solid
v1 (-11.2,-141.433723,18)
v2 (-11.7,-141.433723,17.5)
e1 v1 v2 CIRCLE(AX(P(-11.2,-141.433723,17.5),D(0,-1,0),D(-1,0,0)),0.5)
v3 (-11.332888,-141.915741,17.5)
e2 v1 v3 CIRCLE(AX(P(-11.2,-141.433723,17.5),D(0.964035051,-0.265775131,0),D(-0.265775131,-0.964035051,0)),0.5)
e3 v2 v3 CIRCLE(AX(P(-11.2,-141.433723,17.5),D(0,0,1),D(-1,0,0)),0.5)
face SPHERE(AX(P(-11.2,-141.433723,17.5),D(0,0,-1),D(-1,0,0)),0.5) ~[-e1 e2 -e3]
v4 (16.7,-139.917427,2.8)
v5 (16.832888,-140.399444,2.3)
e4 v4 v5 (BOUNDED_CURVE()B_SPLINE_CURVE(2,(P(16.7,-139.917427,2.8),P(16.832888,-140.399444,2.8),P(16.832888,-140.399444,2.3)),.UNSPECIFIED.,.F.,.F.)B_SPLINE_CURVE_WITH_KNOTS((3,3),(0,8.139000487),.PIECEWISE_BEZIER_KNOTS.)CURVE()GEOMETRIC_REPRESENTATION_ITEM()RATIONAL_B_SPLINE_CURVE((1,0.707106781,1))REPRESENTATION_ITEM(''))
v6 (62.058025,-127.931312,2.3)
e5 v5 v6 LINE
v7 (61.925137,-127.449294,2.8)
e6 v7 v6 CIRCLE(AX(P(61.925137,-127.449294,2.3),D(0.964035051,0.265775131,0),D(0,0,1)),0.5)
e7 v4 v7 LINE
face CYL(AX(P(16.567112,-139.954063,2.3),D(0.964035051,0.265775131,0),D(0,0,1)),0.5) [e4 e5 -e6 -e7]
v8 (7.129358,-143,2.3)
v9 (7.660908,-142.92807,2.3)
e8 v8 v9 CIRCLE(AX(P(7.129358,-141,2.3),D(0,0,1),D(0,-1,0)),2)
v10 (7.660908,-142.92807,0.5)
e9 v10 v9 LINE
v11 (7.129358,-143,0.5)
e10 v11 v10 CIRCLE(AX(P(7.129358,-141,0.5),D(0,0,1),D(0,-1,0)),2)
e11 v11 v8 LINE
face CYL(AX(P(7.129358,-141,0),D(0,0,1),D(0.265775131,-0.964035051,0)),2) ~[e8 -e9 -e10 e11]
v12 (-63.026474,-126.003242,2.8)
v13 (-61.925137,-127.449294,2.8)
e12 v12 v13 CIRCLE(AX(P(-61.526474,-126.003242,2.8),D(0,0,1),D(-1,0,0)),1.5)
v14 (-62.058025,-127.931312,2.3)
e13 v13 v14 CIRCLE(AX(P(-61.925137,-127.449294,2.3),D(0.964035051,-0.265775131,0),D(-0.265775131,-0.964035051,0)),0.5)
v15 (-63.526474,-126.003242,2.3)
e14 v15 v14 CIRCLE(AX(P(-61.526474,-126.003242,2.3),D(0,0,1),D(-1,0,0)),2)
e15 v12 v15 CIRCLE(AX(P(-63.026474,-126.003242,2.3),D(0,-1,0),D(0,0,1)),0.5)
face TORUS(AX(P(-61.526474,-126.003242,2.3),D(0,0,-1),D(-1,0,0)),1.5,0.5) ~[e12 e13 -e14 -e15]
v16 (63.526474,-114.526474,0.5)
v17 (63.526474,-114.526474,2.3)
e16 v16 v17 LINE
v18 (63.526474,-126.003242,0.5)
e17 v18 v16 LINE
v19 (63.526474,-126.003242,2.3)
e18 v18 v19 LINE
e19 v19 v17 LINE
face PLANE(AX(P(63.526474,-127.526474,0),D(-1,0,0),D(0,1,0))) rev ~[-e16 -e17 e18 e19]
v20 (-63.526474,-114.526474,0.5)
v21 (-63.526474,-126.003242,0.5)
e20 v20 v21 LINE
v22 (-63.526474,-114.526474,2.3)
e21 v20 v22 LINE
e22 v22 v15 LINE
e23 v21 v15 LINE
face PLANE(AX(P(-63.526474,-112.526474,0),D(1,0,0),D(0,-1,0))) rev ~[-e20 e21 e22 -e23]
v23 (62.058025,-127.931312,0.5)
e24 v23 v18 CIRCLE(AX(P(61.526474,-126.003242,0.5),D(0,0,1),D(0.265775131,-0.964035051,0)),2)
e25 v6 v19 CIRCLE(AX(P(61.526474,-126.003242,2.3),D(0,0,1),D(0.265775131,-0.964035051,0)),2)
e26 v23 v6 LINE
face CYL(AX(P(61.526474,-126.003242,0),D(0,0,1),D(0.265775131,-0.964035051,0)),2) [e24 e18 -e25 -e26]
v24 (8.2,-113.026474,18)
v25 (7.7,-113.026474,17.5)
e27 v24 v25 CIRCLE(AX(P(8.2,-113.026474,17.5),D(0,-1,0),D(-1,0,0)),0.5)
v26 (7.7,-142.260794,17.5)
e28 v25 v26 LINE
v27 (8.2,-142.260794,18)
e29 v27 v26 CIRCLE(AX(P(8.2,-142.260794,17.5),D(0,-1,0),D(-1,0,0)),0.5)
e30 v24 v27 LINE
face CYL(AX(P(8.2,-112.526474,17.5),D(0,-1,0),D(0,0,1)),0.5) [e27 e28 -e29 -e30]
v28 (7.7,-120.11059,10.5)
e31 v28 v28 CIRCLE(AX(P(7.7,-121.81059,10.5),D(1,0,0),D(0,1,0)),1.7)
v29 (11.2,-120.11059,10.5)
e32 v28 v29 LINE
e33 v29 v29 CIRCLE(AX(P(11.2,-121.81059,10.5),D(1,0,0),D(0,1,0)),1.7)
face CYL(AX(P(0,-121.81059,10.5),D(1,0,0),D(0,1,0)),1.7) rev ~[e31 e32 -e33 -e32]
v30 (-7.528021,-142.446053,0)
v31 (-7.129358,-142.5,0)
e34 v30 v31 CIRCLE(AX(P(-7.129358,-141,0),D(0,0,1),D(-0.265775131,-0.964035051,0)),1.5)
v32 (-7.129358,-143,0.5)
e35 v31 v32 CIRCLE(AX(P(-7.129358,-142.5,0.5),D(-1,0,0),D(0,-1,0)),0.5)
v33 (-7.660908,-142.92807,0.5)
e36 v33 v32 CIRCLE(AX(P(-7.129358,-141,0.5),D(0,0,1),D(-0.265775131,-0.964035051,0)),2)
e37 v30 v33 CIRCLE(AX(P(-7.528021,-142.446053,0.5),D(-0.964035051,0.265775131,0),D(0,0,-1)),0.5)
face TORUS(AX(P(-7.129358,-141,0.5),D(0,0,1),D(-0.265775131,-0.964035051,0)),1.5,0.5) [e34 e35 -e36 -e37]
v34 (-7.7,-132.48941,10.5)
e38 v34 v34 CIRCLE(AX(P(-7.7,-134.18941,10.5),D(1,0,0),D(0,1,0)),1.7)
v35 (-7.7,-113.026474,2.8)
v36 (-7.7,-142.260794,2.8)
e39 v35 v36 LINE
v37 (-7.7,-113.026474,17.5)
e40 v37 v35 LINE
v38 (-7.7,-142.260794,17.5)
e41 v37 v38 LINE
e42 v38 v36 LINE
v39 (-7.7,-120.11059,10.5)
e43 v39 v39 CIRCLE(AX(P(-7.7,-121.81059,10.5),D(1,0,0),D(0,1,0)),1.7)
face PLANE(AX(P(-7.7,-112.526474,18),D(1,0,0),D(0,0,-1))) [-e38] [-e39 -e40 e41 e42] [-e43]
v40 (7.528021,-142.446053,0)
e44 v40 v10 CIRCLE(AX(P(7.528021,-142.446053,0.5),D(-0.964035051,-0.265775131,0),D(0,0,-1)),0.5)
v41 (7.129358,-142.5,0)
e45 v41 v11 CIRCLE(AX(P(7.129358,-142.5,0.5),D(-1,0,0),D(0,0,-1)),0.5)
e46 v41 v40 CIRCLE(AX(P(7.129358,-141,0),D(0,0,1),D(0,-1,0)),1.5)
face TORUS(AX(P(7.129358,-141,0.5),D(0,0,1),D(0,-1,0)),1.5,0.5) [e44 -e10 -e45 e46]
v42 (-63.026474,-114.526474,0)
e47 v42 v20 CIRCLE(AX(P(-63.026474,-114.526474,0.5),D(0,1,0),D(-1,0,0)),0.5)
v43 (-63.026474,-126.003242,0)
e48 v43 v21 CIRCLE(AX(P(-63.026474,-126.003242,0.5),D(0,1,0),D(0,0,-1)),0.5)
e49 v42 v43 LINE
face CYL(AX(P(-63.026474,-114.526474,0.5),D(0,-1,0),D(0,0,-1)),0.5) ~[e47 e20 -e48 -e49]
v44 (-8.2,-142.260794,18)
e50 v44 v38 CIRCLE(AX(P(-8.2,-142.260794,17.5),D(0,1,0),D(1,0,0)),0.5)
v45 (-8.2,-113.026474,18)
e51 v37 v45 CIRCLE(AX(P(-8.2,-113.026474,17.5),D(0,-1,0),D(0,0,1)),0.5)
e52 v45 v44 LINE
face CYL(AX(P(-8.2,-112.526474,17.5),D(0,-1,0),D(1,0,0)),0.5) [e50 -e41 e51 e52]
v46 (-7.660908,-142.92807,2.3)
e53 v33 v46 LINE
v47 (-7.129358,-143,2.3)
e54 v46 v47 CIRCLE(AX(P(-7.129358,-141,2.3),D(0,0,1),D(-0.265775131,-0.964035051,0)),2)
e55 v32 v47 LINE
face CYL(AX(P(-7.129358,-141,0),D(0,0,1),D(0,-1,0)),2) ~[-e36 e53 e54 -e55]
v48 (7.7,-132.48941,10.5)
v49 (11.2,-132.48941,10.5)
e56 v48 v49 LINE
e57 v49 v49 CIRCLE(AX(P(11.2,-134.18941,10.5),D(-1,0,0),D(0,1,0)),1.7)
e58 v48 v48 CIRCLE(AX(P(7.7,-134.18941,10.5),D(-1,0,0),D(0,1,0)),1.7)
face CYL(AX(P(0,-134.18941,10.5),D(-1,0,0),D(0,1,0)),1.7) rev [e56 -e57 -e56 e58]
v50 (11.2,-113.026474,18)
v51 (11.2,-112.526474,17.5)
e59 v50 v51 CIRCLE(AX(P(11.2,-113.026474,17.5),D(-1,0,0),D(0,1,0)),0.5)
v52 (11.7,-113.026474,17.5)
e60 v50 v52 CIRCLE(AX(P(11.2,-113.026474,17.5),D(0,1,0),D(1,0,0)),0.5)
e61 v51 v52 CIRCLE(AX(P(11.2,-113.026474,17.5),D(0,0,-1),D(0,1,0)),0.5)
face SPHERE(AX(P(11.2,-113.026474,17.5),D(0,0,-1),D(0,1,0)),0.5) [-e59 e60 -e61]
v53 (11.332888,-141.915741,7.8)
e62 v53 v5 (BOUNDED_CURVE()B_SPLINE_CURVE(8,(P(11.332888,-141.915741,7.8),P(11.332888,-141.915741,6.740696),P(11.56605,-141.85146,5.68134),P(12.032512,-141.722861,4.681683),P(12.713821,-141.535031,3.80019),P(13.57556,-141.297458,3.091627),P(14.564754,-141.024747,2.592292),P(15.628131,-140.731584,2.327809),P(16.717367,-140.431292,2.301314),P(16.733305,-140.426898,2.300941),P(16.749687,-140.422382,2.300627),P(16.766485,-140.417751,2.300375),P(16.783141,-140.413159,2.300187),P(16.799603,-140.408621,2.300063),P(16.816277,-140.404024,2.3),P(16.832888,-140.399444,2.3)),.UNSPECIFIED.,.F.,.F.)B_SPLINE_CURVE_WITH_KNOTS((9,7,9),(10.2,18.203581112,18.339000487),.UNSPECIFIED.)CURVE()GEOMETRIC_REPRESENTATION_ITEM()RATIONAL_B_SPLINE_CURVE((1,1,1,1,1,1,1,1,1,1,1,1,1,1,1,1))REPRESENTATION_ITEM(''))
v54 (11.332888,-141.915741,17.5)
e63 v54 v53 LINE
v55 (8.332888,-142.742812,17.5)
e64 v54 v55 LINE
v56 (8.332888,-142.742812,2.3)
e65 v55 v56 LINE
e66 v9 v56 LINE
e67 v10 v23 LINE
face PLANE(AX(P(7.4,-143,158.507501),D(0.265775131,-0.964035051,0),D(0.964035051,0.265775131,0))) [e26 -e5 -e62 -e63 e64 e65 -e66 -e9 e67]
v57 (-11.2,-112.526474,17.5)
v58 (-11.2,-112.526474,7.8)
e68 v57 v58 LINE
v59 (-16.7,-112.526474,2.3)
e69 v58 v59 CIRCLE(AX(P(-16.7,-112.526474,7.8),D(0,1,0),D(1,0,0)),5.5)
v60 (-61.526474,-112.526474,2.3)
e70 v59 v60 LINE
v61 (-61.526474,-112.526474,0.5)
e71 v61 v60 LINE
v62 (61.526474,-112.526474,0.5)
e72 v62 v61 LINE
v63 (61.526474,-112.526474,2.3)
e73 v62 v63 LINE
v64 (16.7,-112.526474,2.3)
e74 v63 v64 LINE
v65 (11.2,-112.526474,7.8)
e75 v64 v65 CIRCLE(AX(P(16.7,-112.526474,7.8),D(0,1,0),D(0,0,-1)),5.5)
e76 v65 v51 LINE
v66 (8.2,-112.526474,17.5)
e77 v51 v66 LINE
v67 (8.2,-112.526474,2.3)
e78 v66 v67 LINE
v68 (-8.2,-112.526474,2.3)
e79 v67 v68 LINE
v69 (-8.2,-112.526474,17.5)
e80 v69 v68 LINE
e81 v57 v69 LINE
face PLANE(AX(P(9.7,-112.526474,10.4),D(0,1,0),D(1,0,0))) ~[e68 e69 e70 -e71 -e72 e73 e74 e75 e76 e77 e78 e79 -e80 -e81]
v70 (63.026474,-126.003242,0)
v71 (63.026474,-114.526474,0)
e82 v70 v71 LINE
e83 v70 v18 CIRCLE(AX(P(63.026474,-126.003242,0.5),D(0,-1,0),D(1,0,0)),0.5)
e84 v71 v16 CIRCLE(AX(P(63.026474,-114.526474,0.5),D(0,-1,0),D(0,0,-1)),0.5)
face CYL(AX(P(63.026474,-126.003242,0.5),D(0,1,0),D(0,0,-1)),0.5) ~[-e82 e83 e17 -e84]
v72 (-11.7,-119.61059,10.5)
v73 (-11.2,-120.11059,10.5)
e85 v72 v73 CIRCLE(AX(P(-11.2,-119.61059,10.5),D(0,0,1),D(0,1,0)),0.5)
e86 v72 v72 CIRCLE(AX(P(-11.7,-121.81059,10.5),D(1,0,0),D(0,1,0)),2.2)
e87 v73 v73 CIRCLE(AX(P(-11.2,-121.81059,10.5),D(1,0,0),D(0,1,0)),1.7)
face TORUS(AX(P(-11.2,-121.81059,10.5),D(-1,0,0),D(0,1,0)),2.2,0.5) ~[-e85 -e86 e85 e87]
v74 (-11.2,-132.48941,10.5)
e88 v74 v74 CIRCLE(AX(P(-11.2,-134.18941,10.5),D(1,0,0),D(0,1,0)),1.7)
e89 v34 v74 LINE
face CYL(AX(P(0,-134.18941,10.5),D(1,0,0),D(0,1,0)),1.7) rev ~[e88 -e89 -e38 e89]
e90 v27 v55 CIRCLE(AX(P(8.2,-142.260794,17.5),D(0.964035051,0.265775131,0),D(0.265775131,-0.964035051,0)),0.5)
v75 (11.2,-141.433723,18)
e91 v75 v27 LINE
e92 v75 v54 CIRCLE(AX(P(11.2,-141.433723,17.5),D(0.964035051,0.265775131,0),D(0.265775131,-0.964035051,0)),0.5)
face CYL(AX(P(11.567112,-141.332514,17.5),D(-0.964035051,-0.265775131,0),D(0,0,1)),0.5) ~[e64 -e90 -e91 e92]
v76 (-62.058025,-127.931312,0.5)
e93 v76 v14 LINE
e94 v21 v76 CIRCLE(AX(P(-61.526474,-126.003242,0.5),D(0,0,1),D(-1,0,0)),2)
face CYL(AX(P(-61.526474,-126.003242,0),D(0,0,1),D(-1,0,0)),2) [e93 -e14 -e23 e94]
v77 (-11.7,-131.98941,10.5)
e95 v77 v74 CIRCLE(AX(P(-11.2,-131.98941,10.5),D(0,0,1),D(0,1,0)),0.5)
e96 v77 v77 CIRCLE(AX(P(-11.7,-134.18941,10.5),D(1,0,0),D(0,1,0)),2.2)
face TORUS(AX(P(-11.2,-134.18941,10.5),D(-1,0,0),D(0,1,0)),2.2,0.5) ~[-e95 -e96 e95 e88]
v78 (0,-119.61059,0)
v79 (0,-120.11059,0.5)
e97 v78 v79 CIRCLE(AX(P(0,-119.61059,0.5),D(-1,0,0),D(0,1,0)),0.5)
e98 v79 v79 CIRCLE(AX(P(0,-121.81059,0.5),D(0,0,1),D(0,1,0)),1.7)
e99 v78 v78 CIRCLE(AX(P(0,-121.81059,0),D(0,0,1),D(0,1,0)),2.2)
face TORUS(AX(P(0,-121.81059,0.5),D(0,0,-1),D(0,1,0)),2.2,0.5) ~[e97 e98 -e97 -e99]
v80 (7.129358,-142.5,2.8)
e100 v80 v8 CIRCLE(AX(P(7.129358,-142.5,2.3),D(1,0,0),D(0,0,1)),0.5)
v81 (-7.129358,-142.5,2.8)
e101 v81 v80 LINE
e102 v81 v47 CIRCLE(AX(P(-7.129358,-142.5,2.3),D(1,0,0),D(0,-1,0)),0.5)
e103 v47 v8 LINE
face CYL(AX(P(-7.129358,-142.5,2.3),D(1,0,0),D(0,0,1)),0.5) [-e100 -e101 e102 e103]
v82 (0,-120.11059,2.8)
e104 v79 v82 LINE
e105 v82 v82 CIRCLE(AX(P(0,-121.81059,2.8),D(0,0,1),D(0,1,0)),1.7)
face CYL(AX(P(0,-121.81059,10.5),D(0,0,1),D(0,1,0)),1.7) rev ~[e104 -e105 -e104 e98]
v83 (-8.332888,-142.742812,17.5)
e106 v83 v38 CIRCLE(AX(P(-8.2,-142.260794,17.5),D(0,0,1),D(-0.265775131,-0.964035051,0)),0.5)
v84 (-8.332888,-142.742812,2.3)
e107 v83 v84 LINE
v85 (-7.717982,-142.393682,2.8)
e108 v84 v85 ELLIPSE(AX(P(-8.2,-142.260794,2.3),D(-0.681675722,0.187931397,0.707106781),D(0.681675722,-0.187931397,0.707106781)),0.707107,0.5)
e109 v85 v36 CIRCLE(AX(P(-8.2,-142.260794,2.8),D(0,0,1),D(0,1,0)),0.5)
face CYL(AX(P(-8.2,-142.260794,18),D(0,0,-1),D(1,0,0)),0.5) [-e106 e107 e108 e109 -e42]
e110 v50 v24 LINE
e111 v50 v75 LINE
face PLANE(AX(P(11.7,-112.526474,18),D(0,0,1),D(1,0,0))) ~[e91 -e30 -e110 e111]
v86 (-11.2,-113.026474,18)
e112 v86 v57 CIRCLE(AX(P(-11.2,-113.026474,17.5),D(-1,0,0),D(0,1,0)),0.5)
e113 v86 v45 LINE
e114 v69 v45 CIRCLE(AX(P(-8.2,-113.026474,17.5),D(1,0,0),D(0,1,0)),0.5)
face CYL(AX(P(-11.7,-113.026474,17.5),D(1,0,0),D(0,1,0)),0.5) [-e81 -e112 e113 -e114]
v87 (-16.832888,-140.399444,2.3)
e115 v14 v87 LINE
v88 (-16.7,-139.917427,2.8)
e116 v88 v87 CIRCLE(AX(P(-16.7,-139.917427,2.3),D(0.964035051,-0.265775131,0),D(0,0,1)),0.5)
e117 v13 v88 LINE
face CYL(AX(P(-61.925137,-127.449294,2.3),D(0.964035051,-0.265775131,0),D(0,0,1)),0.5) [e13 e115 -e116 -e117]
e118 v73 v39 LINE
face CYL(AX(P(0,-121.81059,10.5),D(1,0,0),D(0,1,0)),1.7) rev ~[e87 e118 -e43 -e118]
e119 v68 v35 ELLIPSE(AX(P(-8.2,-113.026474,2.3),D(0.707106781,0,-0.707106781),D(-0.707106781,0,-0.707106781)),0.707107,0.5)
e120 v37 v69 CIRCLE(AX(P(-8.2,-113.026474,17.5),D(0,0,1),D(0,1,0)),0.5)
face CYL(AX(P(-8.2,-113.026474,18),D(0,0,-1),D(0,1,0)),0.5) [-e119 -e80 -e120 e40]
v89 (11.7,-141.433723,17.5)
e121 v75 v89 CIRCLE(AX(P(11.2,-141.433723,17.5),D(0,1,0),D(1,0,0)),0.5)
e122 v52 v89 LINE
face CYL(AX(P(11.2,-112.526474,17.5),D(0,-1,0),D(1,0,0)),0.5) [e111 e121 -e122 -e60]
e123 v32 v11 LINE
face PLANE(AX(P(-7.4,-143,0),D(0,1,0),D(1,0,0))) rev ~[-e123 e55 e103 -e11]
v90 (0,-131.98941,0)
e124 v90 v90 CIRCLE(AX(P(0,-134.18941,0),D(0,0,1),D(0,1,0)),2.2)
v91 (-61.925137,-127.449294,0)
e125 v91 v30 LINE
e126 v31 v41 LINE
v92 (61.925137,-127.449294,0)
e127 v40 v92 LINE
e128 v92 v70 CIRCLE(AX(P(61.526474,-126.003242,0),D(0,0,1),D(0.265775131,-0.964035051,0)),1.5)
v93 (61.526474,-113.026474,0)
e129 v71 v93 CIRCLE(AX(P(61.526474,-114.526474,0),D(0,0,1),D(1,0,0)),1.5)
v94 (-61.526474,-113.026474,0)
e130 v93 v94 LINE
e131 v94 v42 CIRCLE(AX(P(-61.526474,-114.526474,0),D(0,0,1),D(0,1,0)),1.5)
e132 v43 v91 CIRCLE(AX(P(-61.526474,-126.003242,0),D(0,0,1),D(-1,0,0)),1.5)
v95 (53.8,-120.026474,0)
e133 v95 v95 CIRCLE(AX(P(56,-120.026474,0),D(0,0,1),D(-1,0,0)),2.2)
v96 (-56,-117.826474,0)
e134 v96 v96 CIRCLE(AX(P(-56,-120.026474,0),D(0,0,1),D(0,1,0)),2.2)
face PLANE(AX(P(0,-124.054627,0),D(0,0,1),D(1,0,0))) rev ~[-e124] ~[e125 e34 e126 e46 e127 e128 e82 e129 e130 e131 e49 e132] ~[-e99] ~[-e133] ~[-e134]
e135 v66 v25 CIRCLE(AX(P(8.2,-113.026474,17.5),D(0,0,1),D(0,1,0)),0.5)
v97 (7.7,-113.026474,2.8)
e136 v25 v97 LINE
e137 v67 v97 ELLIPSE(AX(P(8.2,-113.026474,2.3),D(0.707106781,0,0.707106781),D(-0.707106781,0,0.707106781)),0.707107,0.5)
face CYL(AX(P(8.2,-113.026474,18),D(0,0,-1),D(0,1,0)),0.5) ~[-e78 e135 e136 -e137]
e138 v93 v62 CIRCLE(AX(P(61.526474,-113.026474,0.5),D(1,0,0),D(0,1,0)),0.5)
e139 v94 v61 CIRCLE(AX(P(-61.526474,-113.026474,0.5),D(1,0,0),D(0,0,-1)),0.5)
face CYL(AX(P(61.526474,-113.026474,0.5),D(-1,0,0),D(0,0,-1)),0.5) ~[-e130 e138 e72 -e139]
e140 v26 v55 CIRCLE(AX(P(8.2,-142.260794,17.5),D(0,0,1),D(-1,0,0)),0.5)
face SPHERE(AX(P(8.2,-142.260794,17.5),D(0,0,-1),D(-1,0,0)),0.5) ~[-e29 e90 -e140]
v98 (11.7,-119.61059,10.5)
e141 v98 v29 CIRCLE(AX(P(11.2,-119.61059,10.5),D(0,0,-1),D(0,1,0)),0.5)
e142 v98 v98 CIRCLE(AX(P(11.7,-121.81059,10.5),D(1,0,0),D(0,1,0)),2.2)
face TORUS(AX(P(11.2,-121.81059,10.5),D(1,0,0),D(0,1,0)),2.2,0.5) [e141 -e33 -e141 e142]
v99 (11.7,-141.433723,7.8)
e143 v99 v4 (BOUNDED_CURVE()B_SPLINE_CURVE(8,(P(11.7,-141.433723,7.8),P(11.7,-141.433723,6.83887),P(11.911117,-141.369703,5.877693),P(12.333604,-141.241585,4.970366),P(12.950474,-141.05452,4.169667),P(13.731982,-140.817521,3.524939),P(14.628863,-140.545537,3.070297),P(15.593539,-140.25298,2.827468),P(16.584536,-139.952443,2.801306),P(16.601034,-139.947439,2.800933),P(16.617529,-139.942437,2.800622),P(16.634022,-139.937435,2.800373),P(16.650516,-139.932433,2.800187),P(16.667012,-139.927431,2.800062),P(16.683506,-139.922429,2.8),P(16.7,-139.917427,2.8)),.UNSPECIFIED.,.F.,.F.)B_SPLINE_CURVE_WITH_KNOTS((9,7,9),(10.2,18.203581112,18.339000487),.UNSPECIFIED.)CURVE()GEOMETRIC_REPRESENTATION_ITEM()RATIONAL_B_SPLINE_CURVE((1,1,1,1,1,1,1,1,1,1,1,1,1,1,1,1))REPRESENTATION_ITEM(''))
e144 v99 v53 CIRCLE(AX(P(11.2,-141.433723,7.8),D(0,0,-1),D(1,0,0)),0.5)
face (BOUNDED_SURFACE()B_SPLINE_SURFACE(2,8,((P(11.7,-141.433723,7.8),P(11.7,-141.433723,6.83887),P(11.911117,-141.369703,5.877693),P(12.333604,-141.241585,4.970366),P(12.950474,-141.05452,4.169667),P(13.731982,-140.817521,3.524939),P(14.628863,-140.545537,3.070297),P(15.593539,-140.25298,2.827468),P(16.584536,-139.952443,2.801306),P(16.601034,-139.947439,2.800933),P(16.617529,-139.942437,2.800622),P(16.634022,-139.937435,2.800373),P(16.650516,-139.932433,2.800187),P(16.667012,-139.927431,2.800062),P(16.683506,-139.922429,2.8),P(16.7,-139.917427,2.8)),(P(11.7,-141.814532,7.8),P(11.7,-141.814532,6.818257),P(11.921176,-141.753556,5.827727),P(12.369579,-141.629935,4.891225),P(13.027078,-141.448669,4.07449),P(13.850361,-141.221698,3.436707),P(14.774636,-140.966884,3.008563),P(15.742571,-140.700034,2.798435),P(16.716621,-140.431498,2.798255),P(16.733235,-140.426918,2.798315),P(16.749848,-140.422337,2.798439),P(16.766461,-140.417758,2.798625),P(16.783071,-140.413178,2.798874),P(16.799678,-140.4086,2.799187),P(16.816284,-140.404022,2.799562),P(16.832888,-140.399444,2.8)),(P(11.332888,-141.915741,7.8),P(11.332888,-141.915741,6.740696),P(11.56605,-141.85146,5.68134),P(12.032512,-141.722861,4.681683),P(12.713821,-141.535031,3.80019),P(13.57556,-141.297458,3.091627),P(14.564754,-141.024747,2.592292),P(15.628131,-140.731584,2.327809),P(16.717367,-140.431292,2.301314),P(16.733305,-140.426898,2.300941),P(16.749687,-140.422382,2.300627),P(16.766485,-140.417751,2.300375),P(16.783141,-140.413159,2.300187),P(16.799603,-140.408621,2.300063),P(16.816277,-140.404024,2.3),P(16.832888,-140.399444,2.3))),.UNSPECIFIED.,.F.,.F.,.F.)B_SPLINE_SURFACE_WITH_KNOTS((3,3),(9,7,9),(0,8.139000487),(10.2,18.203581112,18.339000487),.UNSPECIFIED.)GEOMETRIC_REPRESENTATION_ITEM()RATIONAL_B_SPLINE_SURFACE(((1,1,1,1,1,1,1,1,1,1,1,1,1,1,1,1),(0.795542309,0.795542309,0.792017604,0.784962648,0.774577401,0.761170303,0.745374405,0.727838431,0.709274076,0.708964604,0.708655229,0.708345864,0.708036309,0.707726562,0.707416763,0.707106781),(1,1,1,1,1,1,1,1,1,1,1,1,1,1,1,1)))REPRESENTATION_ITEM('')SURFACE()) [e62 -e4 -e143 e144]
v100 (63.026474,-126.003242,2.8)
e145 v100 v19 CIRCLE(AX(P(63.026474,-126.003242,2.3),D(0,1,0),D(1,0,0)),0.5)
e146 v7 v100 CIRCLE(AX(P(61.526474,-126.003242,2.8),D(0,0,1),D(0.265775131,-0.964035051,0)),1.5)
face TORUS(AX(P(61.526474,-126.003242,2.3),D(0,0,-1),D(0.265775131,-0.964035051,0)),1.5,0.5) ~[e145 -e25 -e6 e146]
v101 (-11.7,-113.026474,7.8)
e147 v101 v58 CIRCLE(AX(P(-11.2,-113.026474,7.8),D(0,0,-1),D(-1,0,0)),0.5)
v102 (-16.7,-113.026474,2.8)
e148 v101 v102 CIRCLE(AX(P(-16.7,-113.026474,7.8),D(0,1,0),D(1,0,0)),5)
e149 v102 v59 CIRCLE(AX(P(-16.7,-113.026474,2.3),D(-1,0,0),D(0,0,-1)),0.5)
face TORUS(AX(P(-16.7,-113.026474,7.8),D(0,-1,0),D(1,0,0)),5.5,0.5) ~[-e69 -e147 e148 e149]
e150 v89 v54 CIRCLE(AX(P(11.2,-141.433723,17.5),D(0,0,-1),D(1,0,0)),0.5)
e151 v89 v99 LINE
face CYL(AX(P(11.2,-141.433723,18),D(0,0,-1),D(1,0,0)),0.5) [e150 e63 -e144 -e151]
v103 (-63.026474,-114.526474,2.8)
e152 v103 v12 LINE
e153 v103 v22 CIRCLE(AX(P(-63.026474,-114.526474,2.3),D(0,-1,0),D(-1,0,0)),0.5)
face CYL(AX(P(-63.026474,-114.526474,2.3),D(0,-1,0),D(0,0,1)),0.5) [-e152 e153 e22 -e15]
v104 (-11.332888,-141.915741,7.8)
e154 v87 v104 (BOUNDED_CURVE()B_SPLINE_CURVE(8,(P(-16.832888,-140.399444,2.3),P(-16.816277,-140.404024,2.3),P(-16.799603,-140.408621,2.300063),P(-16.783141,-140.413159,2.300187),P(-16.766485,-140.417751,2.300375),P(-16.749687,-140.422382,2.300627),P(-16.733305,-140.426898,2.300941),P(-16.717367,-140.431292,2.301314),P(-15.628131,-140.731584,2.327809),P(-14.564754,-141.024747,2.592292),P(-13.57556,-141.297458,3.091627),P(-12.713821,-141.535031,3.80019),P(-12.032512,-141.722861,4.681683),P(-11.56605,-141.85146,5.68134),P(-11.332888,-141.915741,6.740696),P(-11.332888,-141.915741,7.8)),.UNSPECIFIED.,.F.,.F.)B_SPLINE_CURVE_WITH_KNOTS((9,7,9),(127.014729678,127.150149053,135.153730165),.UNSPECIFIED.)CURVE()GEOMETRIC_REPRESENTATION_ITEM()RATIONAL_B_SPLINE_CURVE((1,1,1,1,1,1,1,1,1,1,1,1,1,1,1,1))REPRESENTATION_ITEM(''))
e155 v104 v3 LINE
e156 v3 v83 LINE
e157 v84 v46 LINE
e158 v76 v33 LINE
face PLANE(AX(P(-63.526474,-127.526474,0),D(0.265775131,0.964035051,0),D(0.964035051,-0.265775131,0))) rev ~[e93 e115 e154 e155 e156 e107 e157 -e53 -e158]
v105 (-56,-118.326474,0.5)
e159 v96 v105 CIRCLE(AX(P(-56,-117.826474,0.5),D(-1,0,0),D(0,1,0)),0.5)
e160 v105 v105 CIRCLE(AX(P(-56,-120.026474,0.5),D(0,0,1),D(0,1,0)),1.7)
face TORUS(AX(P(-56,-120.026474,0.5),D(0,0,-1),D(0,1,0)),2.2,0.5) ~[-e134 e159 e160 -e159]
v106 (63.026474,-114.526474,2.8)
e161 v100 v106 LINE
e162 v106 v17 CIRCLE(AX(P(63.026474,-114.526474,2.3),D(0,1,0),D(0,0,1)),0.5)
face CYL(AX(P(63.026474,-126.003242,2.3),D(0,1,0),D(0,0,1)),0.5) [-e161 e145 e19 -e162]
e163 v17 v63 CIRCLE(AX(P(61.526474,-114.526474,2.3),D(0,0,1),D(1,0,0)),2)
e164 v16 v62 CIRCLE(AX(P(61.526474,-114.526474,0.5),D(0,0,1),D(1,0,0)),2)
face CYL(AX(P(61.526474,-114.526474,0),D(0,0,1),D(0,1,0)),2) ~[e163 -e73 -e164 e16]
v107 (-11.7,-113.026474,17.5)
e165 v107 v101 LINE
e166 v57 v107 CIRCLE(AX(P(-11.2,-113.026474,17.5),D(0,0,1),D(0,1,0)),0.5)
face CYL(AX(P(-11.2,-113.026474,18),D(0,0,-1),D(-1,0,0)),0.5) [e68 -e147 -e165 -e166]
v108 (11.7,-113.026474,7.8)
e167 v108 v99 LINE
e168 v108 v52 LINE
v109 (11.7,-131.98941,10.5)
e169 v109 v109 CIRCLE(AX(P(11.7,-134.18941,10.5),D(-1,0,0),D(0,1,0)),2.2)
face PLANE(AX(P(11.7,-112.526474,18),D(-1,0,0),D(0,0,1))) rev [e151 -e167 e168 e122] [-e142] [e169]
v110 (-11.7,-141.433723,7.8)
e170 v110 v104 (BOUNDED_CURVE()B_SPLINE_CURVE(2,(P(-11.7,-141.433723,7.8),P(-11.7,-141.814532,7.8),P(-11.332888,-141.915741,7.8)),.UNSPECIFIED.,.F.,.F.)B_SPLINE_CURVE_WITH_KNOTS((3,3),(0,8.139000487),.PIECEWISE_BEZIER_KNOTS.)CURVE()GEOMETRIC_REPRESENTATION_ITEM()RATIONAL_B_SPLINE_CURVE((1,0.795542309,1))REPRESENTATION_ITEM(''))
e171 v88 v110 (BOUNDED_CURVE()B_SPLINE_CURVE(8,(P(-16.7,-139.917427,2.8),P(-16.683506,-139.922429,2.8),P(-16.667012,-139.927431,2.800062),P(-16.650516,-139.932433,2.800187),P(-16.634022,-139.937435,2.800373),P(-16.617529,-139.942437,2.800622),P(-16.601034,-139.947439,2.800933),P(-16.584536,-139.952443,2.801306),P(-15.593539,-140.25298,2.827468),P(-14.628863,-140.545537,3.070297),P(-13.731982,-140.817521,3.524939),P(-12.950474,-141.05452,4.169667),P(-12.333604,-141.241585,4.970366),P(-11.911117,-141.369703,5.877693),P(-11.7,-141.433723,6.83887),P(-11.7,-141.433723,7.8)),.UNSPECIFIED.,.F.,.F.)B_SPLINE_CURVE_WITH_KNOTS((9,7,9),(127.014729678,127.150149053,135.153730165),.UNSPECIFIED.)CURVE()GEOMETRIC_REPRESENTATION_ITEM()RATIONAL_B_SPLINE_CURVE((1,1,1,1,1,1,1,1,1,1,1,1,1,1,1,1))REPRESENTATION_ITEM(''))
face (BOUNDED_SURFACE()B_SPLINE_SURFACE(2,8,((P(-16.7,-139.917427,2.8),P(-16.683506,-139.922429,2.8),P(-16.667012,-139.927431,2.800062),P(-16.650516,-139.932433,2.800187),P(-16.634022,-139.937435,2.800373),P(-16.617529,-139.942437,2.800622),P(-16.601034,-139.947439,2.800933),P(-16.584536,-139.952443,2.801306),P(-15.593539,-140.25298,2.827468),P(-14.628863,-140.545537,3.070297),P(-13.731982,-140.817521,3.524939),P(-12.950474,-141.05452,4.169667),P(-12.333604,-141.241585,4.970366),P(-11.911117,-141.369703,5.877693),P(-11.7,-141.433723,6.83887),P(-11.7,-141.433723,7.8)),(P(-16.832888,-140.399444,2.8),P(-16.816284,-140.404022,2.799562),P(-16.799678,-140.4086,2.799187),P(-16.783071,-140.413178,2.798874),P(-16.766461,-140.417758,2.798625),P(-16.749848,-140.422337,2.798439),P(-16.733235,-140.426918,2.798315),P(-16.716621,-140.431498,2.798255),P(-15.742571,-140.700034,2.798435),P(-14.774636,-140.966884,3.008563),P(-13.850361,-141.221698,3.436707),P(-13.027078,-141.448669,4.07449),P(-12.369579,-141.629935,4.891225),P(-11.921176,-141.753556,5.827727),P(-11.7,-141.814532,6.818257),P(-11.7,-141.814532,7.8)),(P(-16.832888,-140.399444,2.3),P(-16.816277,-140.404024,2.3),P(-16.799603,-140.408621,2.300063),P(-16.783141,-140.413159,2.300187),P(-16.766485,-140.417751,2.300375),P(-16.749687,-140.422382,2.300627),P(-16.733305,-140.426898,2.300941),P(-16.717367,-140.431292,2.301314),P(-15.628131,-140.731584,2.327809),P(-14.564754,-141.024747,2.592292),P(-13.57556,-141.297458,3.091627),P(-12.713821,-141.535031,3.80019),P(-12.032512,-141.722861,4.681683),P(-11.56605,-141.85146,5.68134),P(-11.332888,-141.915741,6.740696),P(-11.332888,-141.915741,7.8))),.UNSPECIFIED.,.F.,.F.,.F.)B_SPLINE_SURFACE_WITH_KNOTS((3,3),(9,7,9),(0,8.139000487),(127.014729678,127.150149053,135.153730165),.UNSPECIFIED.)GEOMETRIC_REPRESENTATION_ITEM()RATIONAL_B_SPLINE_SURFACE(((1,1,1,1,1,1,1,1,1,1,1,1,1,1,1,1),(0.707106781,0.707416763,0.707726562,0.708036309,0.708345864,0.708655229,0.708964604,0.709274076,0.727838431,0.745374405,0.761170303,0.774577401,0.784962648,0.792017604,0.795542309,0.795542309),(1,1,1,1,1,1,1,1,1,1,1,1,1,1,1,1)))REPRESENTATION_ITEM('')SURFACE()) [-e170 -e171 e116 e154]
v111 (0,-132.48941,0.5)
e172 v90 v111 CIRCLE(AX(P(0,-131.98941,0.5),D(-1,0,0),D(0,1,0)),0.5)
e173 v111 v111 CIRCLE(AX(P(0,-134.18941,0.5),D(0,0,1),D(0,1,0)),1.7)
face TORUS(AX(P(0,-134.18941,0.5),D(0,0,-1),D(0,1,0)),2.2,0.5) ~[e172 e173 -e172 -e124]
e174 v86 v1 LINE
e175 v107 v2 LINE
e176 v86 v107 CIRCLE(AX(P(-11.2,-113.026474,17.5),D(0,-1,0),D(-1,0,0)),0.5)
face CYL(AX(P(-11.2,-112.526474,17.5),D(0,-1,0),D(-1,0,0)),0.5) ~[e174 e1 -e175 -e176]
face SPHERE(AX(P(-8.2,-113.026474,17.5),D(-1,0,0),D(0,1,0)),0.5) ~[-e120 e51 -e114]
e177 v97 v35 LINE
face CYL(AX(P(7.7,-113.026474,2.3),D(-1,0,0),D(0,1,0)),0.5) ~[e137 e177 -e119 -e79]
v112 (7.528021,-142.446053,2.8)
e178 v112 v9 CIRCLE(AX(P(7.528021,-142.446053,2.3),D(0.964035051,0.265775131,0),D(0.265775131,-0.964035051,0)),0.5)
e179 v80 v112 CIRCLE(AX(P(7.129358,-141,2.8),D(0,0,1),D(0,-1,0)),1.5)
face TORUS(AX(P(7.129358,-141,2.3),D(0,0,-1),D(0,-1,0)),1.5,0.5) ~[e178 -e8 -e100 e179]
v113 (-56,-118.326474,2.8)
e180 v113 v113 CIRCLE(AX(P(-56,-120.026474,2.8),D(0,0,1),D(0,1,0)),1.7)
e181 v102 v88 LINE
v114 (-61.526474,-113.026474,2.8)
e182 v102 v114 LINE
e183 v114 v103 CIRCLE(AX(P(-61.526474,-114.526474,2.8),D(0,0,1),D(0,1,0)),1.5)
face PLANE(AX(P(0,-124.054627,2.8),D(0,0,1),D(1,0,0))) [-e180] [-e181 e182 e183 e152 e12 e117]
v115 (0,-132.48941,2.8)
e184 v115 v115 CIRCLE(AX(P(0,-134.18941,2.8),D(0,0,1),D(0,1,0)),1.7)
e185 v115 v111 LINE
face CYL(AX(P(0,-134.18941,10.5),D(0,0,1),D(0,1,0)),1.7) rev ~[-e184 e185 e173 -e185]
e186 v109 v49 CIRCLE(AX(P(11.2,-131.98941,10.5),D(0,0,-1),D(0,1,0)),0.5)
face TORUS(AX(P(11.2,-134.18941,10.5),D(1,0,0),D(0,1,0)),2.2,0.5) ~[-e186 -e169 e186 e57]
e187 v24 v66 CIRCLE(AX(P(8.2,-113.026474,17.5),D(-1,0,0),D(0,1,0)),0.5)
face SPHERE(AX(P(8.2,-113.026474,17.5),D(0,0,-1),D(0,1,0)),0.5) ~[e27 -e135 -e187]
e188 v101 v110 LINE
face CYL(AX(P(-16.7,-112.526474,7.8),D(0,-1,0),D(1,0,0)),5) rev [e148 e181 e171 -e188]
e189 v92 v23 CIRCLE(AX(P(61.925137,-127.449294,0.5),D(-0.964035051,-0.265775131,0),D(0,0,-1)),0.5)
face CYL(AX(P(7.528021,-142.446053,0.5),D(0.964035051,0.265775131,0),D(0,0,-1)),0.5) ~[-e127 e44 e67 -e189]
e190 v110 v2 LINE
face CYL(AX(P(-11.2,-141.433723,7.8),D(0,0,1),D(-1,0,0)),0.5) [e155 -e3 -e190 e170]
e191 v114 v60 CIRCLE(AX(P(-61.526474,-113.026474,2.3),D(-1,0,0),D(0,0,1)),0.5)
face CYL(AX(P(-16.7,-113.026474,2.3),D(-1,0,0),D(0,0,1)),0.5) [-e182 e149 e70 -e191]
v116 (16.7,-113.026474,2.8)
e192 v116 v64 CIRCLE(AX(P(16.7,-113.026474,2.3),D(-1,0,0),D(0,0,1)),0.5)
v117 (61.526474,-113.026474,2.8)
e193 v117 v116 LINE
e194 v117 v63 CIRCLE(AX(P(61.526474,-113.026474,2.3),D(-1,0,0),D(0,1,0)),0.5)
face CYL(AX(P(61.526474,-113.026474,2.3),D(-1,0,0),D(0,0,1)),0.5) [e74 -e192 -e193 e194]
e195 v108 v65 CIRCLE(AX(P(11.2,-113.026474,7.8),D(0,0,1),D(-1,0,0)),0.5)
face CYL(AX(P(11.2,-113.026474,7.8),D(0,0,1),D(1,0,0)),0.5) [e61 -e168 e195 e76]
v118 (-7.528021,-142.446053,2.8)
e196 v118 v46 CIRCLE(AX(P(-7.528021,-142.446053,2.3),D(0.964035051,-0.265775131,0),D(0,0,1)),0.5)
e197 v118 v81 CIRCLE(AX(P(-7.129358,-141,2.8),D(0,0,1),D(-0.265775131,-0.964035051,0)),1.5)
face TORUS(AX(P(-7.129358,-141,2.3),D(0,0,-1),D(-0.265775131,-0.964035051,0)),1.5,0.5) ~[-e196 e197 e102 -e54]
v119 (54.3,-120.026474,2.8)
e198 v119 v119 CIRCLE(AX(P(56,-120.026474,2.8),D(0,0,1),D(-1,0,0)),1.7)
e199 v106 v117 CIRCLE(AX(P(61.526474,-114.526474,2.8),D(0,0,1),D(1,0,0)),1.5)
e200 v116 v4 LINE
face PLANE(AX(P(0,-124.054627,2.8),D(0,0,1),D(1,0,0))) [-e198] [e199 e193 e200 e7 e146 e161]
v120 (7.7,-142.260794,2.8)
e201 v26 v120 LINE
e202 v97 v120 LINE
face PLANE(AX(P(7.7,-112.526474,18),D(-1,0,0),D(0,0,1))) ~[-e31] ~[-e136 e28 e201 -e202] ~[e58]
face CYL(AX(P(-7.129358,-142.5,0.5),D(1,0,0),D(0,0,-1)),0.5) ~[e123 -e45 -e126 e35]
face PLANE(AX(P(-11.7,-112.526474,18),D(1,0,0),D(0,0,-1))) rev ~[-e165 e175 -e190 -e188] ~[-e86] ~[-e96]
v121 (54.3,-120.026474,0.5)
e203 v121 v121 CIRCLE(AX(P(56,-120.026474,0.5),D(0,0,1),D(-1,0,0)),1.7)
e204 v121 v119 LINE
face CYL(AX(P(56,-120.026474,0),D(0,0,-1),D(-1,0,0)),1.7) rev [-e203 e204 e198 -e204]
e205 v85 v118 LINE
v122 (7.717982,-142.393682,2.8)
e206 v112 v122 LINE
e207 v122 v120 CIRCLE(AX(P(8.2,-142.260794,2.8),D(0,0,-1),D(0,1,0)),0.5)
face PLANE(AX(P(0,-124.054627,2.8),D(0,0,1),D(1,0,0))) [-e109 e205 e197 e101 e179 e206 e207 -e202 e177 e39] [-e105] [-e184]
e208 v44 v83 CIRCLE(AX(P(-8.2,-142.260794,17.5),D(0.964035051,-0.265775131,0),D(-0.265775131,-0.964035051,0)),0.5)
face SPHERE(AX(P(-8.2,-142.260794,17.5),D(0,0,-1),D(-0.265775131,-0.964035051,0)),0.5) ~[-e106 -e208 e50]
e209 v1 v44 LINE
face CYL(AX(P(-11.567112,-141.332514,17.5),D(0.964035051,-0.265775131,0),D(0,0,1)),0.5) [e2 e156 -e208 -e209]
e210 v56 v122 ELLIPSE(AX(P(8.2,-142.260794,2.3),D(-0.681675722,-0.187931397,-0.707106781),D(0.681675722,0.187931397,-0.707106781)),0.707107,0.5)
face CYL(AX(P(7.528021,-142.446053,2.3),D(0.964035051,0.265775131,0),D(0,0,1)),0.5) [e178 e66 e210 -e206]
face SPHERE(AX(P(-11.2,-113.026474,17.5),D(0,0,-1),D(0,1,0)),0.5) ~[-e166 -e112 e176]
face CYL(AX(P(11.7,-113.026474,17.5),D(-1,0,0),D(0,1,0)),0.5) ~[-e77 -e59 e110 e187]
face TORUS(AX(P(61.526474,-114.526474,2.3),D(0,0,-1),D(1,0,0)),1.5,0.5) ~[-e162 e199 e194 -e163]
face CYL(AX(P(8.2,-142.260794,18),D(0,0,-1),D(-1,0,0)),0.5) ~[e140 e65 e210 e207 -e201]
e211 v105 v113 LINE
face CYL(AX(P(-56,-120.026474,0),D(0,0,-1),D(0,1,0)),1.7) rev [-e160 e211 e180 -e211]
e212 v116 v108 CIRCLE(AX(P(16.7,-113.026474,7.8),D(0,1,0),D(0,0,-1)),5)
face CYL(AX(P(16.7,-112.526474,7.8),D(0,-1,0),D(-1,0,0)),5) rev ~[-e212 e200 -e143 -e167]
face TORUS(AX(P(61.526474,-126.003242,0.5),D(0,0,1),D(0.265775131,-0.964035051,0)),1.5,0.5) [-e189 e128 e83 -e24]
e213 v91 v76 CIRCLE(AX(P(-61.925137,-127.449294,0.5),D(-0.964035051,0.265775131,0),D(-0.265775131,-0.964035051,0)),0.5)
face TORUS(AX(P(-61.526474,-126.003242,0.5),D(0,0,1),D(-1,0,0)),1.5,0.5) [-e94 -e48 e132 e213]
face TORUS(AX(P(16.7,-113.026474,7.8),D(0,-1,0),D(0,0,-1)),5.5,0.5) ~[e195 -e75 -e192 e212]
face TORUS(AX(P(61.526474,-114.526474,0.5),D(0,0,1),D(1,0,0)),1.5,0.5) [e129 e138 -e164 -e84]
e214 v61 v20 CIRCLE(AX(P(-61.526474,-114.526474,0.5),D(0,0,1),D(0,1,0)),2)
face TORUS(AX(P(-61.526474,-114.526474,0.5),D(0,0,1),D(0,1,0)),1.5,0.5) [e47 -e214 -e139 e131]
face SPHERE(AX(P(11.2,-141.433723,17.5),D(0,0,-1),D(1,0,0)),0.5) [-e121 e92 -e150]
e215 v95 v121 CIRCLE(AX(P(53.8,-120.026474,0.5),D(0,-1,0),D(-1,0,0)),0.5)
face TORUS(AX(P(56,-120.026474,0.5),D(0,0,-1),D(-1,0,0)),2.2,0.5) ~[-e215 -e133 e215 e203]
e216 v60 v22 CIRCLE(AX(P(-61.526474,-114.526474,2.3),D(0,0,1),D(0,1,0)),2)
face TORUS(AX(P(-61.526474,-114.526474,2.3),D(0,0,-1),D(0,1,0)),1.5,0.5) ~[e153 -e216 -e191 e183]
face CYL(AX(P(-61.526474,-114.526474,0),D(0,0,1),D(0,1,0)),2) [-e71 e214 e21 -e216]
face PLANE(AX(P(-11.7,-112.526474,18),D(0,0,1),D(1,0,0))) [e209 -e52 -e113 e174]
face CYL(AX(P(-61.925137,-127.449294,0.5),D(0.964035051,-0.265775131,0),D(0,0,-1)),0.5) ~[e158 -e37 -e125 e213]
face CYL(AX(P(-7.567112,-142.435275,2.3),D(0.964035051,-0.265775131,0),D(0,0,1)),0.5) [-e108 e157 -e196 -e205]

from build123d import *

# Parameters (mm, degrees)
SKETCH1_R               = 1.7
BOSS_EXTRUDE1_DEPTH     = 2.8
BOSS_EXTRUDE2_REACH     = 72.513
SKETCH3_W               = 4
SKETCH3_H               = 15.2
FILLET1_R               = 5
FILLET1_OF_MIRROR1_R    = 5
CUT_EXTRUDE1_DEPTH      = 158.507501235
CUT_EXTRUDE1_DEPTH_BACK = 158.507501235
SKETCH5_R               = 1.7
CUT_EXTRUDE2_DEPTH      = 158.507501235
CIRPATTERN1_COUNT       = 2
CIRPATTERN1_ANGLE       = 90
FILLET2_R               = 2
FILLET3_R               = 0.5


with BuildPart() as part:
    # Sketch1 → Boss-Extrude1 (new body)
    with BuildSketch(Plane.XY):
        Polygon((63.526474366, -112.526474366), (-63.526474366, -112.526474366), (-63.526474366, -127.526474366), (-7.4, -143), (7.4, -143), (63.526474366, -127.526474366), align=None)
        with Locations(Location((-56, -120.026474366, 0), (0, 0, 90))):
            Circle(SKETCH1_R, mode=Mode.SUBTRACT)
        with Locations(Location((56, -120.026474366, 0), (0, 0, 180))):
            Circle(SKETCH1_R, mode=Mode.SUBTRACT)
    extrude(amount=BOSS_EXTRUDE1_DEPTH)

    # Boss-Extrude2: up to this face of the body (flat: up to its plane)
    boss_extrude2_end = Plane(part.part.faces().sort_by_distance((0, -143, 1.4))[0])
    # Sketch3 → Boss-Extrude2 (add, up to the picked face)
    with BuildSketch(Plane(origin=(0, -112.526474366, 0), x_dir=(1, 0, 0), z_dir=(0, 1, 0)), mode=Mode.PRIVATE) as boss_extrude2_sk1:
        with Locations((-9.7, -10.4)):
            Rectangle(SKETCH3_W, SKETCH3_H)
    boss_extrude2_tool1 = split(extrude(boss_extrude2_sk1.sketch, amount=-BOSS_EXTRUDE2_REACH, mode=Mode.PRIVATE), bisect_by=boss_extrude2_end, keep=Keep.BOTH, mode=Mode.PRIVATE)
    boss_extrude2 = boss_extrude2_tool1.solids().sort_by(Axis((-9.7, -112.526474, 10.4), (0, -1, 0)))[0]
    add(boss_extrude2)

    # Fillet1
    fillet1_edges = [part.edges().sort_by_distance(p)[0] for p in [
        (-11.7, -127.170502997, 2.8),
    ]]
    fillet(fillet1_edges, radius=FILLET1_R)

    # Mirror1: Boss-Extrude2 across plane
    add(boss_extrude2.mirror(Plane(origin=(0, 0, 0), x_dir=(0, 0, 1), z_dir=(1, 0, 0))))

    # Fillet1 of Mirror1
    fillet1_of_mirror1_edges = [part.edges().sort_by_distance(p)[0] for p in [
        (11.7, -127.170502997, 2.8),
    ]]
    fillet(fillet1_of_mirror1_edges, radius=FILLET1_OF_MIRROR1_R)

    # Sketch4 → Cut-Extrude1 (cut, two sides: drawn at the far end of the back side and taken through both)
    with BuildSketch(Plane(origin=(0, 0, 0), x_dir=(-1, 0, 0), z_dir=(0, 0, -1)).offset(-CUT_EXTRUDE1_DEPTH_BACK)):
        Polygon((-7.4, -143), (-63.526474366, -127.526474366), (-63.526474366, -166.506470189), (63.526474366, -166.506470189), (63.526474366, -127.526474366), (7.4, -143), align=None)
    extrude(amount=CUT_EXTRUDE1_DEPTH + CUT_EXTRUDE1_DEPTH_BACK, mode=Mode.SUBTRACT)

    # Sketch5 → Cut-Extrude2 (cut, symmetric)
    with BuildSketch(Plane(origin=(0, 0, 0), x_dir=(0, 0, -1), z_dir=(1, 0, 0))):
        with Locations(Location((-10.5, -134.189410254, 0), (0, 0, 90))):
            Circle(SKETCH5_R)
        with Locations(Location((-10.5, -121.810589746, 0), (0, 0, 90))):
            Circle(SKETCH5_R)
    cut_extrude2 = extrude(amount=CUT_EXTRUDE2_DEPTH, both=True, mode=Mode.SUBTRACT)

    # CirPattern1: Cut-Extrude2 ×2 about axis
    cirpattern1_axis = Axis((0, -111.002798084, 10.5), (0, -1, 0))
    for i in range(1, CIRPATTERN1_COUNT):
        add(cut_extrude2.rotate(cirpattern1_axis, i * CIRPATTERN1_ANGLE / (CIRPATTERN1_COUNT - 1)), mode=Mode.SUBTRACT)

    # Fillet2
    fillet2_edges = [part.edges().sort_by_distance(p)[0] for p in [
        (-63.526474366, -112.526474366, 1.4),
        (-63.526474366, -127.526474366, 1.4),
        (-7.4, -143, 1.4),
        (7.4, -143, 1.4),
        (63.526474366, -127.526474366, 1.4),
        (63.526474366, -112.526474366, 1.4),
    ]]
    fillet(fillet2_edges, radius=FILLET2_R)

    # Fillet3
    fillet3_edges = [part.edges().sort_by_distance(p)[0] for p in [
        (-11.7, -135.889410254, 10.5),
        (11.7, -135.889410254, 10.5),
        (-11.7, -123.510589746, 10.5),
        (11.7, -123.510589746, 10.5),
        (0, -135.889410254, 0),
        (0, -123.510589746, 0),
        (39.379012314, -134.183695887, 2.8),
        (34.859466473, -135.429690922, 0),
        (-63.526474366, -120.264858003, 0),
        (0, -112.526474366, 0),
        (63.526474366, -120.264858003, 0),
        (0, -143, 0),
        (-34.859466473, -135.429690922, 0),
        (62.940687928, -113.112260803, 0),
        (63.117558984, -127.21503772, 0),
        (-62.940687928, -113.112260803, 0),
        (-63.117558984, -127.21503772, 0),
        (-7.397555555, -142.981935948, 0),
        (7.397555555, -142.981935948, 0),
        (0, -143, 2.8),
        (-7.68045416, -142.922681503, 2.8),
        (-7.397555555, -142.981935948, 2.8),
        (7.397555555, -142.981935948, 2.8),
        (-63.526474366, -120.264858003, 2.8),
        (-39.113237183, -112.526474366, 2.8),
        (-62.940687928, -113.112260803, 2.8),
        (-63.117558984, -127.21503772, 2.8),
        (63.526474366, -120.264858003, 2.8),
        (62.940687928, -113.112260803, 2.8),
        (63.117558984, -127.21503772, 2.8),
        (0, -112.526474366, 2.8),
        (-9.7, -112.526474366, 18),
        (-7.7, -112.526474366, 10.4),
        (-39.379012314, -134.183695887, 2.8),
        (-11.7, -112.526474366, 12.9),
        (-13.164466094, -112.526474366, 4.264466094),
        (-13.196971996, -141.40183094, 4.232256343),
        (7.68045416, -142.922681503, 2.8),
        (7.7, -112.526474366, 10.4),
        (9.7, -112.526474366, 18),
        (11.7, -112.526474366, 12.9),
        (39.113237183, -112.526474366, 2.8),
        (13.164466094, -112.526474366, 4.264466094),
        (13.196971996, -141.40183094, 4.232256343),
        (-56, -121.726474366, 0),
        (7.7, -127.721883635, 18),
        (11.7, -127.170502997, 18),
        (-7.7, -127.721883635, 18),
        (-11.7, -127.170502997, 18),
        (-11.7, -141.814531627, 12.9),
        (-7.7, -142.917292904, 10.4),
        (9.7, -142.365912266, 18),
        (11.7, -141.814531627, 12.9),
        (7.7, -142.917292904, 10.4),
        (-9.7, -142.365912266, 18),
        (57.7, -120.026474366, 0),
    ]]
    fillet(fillet3_edges, radius=FILLET3_R)


solid = part.part
